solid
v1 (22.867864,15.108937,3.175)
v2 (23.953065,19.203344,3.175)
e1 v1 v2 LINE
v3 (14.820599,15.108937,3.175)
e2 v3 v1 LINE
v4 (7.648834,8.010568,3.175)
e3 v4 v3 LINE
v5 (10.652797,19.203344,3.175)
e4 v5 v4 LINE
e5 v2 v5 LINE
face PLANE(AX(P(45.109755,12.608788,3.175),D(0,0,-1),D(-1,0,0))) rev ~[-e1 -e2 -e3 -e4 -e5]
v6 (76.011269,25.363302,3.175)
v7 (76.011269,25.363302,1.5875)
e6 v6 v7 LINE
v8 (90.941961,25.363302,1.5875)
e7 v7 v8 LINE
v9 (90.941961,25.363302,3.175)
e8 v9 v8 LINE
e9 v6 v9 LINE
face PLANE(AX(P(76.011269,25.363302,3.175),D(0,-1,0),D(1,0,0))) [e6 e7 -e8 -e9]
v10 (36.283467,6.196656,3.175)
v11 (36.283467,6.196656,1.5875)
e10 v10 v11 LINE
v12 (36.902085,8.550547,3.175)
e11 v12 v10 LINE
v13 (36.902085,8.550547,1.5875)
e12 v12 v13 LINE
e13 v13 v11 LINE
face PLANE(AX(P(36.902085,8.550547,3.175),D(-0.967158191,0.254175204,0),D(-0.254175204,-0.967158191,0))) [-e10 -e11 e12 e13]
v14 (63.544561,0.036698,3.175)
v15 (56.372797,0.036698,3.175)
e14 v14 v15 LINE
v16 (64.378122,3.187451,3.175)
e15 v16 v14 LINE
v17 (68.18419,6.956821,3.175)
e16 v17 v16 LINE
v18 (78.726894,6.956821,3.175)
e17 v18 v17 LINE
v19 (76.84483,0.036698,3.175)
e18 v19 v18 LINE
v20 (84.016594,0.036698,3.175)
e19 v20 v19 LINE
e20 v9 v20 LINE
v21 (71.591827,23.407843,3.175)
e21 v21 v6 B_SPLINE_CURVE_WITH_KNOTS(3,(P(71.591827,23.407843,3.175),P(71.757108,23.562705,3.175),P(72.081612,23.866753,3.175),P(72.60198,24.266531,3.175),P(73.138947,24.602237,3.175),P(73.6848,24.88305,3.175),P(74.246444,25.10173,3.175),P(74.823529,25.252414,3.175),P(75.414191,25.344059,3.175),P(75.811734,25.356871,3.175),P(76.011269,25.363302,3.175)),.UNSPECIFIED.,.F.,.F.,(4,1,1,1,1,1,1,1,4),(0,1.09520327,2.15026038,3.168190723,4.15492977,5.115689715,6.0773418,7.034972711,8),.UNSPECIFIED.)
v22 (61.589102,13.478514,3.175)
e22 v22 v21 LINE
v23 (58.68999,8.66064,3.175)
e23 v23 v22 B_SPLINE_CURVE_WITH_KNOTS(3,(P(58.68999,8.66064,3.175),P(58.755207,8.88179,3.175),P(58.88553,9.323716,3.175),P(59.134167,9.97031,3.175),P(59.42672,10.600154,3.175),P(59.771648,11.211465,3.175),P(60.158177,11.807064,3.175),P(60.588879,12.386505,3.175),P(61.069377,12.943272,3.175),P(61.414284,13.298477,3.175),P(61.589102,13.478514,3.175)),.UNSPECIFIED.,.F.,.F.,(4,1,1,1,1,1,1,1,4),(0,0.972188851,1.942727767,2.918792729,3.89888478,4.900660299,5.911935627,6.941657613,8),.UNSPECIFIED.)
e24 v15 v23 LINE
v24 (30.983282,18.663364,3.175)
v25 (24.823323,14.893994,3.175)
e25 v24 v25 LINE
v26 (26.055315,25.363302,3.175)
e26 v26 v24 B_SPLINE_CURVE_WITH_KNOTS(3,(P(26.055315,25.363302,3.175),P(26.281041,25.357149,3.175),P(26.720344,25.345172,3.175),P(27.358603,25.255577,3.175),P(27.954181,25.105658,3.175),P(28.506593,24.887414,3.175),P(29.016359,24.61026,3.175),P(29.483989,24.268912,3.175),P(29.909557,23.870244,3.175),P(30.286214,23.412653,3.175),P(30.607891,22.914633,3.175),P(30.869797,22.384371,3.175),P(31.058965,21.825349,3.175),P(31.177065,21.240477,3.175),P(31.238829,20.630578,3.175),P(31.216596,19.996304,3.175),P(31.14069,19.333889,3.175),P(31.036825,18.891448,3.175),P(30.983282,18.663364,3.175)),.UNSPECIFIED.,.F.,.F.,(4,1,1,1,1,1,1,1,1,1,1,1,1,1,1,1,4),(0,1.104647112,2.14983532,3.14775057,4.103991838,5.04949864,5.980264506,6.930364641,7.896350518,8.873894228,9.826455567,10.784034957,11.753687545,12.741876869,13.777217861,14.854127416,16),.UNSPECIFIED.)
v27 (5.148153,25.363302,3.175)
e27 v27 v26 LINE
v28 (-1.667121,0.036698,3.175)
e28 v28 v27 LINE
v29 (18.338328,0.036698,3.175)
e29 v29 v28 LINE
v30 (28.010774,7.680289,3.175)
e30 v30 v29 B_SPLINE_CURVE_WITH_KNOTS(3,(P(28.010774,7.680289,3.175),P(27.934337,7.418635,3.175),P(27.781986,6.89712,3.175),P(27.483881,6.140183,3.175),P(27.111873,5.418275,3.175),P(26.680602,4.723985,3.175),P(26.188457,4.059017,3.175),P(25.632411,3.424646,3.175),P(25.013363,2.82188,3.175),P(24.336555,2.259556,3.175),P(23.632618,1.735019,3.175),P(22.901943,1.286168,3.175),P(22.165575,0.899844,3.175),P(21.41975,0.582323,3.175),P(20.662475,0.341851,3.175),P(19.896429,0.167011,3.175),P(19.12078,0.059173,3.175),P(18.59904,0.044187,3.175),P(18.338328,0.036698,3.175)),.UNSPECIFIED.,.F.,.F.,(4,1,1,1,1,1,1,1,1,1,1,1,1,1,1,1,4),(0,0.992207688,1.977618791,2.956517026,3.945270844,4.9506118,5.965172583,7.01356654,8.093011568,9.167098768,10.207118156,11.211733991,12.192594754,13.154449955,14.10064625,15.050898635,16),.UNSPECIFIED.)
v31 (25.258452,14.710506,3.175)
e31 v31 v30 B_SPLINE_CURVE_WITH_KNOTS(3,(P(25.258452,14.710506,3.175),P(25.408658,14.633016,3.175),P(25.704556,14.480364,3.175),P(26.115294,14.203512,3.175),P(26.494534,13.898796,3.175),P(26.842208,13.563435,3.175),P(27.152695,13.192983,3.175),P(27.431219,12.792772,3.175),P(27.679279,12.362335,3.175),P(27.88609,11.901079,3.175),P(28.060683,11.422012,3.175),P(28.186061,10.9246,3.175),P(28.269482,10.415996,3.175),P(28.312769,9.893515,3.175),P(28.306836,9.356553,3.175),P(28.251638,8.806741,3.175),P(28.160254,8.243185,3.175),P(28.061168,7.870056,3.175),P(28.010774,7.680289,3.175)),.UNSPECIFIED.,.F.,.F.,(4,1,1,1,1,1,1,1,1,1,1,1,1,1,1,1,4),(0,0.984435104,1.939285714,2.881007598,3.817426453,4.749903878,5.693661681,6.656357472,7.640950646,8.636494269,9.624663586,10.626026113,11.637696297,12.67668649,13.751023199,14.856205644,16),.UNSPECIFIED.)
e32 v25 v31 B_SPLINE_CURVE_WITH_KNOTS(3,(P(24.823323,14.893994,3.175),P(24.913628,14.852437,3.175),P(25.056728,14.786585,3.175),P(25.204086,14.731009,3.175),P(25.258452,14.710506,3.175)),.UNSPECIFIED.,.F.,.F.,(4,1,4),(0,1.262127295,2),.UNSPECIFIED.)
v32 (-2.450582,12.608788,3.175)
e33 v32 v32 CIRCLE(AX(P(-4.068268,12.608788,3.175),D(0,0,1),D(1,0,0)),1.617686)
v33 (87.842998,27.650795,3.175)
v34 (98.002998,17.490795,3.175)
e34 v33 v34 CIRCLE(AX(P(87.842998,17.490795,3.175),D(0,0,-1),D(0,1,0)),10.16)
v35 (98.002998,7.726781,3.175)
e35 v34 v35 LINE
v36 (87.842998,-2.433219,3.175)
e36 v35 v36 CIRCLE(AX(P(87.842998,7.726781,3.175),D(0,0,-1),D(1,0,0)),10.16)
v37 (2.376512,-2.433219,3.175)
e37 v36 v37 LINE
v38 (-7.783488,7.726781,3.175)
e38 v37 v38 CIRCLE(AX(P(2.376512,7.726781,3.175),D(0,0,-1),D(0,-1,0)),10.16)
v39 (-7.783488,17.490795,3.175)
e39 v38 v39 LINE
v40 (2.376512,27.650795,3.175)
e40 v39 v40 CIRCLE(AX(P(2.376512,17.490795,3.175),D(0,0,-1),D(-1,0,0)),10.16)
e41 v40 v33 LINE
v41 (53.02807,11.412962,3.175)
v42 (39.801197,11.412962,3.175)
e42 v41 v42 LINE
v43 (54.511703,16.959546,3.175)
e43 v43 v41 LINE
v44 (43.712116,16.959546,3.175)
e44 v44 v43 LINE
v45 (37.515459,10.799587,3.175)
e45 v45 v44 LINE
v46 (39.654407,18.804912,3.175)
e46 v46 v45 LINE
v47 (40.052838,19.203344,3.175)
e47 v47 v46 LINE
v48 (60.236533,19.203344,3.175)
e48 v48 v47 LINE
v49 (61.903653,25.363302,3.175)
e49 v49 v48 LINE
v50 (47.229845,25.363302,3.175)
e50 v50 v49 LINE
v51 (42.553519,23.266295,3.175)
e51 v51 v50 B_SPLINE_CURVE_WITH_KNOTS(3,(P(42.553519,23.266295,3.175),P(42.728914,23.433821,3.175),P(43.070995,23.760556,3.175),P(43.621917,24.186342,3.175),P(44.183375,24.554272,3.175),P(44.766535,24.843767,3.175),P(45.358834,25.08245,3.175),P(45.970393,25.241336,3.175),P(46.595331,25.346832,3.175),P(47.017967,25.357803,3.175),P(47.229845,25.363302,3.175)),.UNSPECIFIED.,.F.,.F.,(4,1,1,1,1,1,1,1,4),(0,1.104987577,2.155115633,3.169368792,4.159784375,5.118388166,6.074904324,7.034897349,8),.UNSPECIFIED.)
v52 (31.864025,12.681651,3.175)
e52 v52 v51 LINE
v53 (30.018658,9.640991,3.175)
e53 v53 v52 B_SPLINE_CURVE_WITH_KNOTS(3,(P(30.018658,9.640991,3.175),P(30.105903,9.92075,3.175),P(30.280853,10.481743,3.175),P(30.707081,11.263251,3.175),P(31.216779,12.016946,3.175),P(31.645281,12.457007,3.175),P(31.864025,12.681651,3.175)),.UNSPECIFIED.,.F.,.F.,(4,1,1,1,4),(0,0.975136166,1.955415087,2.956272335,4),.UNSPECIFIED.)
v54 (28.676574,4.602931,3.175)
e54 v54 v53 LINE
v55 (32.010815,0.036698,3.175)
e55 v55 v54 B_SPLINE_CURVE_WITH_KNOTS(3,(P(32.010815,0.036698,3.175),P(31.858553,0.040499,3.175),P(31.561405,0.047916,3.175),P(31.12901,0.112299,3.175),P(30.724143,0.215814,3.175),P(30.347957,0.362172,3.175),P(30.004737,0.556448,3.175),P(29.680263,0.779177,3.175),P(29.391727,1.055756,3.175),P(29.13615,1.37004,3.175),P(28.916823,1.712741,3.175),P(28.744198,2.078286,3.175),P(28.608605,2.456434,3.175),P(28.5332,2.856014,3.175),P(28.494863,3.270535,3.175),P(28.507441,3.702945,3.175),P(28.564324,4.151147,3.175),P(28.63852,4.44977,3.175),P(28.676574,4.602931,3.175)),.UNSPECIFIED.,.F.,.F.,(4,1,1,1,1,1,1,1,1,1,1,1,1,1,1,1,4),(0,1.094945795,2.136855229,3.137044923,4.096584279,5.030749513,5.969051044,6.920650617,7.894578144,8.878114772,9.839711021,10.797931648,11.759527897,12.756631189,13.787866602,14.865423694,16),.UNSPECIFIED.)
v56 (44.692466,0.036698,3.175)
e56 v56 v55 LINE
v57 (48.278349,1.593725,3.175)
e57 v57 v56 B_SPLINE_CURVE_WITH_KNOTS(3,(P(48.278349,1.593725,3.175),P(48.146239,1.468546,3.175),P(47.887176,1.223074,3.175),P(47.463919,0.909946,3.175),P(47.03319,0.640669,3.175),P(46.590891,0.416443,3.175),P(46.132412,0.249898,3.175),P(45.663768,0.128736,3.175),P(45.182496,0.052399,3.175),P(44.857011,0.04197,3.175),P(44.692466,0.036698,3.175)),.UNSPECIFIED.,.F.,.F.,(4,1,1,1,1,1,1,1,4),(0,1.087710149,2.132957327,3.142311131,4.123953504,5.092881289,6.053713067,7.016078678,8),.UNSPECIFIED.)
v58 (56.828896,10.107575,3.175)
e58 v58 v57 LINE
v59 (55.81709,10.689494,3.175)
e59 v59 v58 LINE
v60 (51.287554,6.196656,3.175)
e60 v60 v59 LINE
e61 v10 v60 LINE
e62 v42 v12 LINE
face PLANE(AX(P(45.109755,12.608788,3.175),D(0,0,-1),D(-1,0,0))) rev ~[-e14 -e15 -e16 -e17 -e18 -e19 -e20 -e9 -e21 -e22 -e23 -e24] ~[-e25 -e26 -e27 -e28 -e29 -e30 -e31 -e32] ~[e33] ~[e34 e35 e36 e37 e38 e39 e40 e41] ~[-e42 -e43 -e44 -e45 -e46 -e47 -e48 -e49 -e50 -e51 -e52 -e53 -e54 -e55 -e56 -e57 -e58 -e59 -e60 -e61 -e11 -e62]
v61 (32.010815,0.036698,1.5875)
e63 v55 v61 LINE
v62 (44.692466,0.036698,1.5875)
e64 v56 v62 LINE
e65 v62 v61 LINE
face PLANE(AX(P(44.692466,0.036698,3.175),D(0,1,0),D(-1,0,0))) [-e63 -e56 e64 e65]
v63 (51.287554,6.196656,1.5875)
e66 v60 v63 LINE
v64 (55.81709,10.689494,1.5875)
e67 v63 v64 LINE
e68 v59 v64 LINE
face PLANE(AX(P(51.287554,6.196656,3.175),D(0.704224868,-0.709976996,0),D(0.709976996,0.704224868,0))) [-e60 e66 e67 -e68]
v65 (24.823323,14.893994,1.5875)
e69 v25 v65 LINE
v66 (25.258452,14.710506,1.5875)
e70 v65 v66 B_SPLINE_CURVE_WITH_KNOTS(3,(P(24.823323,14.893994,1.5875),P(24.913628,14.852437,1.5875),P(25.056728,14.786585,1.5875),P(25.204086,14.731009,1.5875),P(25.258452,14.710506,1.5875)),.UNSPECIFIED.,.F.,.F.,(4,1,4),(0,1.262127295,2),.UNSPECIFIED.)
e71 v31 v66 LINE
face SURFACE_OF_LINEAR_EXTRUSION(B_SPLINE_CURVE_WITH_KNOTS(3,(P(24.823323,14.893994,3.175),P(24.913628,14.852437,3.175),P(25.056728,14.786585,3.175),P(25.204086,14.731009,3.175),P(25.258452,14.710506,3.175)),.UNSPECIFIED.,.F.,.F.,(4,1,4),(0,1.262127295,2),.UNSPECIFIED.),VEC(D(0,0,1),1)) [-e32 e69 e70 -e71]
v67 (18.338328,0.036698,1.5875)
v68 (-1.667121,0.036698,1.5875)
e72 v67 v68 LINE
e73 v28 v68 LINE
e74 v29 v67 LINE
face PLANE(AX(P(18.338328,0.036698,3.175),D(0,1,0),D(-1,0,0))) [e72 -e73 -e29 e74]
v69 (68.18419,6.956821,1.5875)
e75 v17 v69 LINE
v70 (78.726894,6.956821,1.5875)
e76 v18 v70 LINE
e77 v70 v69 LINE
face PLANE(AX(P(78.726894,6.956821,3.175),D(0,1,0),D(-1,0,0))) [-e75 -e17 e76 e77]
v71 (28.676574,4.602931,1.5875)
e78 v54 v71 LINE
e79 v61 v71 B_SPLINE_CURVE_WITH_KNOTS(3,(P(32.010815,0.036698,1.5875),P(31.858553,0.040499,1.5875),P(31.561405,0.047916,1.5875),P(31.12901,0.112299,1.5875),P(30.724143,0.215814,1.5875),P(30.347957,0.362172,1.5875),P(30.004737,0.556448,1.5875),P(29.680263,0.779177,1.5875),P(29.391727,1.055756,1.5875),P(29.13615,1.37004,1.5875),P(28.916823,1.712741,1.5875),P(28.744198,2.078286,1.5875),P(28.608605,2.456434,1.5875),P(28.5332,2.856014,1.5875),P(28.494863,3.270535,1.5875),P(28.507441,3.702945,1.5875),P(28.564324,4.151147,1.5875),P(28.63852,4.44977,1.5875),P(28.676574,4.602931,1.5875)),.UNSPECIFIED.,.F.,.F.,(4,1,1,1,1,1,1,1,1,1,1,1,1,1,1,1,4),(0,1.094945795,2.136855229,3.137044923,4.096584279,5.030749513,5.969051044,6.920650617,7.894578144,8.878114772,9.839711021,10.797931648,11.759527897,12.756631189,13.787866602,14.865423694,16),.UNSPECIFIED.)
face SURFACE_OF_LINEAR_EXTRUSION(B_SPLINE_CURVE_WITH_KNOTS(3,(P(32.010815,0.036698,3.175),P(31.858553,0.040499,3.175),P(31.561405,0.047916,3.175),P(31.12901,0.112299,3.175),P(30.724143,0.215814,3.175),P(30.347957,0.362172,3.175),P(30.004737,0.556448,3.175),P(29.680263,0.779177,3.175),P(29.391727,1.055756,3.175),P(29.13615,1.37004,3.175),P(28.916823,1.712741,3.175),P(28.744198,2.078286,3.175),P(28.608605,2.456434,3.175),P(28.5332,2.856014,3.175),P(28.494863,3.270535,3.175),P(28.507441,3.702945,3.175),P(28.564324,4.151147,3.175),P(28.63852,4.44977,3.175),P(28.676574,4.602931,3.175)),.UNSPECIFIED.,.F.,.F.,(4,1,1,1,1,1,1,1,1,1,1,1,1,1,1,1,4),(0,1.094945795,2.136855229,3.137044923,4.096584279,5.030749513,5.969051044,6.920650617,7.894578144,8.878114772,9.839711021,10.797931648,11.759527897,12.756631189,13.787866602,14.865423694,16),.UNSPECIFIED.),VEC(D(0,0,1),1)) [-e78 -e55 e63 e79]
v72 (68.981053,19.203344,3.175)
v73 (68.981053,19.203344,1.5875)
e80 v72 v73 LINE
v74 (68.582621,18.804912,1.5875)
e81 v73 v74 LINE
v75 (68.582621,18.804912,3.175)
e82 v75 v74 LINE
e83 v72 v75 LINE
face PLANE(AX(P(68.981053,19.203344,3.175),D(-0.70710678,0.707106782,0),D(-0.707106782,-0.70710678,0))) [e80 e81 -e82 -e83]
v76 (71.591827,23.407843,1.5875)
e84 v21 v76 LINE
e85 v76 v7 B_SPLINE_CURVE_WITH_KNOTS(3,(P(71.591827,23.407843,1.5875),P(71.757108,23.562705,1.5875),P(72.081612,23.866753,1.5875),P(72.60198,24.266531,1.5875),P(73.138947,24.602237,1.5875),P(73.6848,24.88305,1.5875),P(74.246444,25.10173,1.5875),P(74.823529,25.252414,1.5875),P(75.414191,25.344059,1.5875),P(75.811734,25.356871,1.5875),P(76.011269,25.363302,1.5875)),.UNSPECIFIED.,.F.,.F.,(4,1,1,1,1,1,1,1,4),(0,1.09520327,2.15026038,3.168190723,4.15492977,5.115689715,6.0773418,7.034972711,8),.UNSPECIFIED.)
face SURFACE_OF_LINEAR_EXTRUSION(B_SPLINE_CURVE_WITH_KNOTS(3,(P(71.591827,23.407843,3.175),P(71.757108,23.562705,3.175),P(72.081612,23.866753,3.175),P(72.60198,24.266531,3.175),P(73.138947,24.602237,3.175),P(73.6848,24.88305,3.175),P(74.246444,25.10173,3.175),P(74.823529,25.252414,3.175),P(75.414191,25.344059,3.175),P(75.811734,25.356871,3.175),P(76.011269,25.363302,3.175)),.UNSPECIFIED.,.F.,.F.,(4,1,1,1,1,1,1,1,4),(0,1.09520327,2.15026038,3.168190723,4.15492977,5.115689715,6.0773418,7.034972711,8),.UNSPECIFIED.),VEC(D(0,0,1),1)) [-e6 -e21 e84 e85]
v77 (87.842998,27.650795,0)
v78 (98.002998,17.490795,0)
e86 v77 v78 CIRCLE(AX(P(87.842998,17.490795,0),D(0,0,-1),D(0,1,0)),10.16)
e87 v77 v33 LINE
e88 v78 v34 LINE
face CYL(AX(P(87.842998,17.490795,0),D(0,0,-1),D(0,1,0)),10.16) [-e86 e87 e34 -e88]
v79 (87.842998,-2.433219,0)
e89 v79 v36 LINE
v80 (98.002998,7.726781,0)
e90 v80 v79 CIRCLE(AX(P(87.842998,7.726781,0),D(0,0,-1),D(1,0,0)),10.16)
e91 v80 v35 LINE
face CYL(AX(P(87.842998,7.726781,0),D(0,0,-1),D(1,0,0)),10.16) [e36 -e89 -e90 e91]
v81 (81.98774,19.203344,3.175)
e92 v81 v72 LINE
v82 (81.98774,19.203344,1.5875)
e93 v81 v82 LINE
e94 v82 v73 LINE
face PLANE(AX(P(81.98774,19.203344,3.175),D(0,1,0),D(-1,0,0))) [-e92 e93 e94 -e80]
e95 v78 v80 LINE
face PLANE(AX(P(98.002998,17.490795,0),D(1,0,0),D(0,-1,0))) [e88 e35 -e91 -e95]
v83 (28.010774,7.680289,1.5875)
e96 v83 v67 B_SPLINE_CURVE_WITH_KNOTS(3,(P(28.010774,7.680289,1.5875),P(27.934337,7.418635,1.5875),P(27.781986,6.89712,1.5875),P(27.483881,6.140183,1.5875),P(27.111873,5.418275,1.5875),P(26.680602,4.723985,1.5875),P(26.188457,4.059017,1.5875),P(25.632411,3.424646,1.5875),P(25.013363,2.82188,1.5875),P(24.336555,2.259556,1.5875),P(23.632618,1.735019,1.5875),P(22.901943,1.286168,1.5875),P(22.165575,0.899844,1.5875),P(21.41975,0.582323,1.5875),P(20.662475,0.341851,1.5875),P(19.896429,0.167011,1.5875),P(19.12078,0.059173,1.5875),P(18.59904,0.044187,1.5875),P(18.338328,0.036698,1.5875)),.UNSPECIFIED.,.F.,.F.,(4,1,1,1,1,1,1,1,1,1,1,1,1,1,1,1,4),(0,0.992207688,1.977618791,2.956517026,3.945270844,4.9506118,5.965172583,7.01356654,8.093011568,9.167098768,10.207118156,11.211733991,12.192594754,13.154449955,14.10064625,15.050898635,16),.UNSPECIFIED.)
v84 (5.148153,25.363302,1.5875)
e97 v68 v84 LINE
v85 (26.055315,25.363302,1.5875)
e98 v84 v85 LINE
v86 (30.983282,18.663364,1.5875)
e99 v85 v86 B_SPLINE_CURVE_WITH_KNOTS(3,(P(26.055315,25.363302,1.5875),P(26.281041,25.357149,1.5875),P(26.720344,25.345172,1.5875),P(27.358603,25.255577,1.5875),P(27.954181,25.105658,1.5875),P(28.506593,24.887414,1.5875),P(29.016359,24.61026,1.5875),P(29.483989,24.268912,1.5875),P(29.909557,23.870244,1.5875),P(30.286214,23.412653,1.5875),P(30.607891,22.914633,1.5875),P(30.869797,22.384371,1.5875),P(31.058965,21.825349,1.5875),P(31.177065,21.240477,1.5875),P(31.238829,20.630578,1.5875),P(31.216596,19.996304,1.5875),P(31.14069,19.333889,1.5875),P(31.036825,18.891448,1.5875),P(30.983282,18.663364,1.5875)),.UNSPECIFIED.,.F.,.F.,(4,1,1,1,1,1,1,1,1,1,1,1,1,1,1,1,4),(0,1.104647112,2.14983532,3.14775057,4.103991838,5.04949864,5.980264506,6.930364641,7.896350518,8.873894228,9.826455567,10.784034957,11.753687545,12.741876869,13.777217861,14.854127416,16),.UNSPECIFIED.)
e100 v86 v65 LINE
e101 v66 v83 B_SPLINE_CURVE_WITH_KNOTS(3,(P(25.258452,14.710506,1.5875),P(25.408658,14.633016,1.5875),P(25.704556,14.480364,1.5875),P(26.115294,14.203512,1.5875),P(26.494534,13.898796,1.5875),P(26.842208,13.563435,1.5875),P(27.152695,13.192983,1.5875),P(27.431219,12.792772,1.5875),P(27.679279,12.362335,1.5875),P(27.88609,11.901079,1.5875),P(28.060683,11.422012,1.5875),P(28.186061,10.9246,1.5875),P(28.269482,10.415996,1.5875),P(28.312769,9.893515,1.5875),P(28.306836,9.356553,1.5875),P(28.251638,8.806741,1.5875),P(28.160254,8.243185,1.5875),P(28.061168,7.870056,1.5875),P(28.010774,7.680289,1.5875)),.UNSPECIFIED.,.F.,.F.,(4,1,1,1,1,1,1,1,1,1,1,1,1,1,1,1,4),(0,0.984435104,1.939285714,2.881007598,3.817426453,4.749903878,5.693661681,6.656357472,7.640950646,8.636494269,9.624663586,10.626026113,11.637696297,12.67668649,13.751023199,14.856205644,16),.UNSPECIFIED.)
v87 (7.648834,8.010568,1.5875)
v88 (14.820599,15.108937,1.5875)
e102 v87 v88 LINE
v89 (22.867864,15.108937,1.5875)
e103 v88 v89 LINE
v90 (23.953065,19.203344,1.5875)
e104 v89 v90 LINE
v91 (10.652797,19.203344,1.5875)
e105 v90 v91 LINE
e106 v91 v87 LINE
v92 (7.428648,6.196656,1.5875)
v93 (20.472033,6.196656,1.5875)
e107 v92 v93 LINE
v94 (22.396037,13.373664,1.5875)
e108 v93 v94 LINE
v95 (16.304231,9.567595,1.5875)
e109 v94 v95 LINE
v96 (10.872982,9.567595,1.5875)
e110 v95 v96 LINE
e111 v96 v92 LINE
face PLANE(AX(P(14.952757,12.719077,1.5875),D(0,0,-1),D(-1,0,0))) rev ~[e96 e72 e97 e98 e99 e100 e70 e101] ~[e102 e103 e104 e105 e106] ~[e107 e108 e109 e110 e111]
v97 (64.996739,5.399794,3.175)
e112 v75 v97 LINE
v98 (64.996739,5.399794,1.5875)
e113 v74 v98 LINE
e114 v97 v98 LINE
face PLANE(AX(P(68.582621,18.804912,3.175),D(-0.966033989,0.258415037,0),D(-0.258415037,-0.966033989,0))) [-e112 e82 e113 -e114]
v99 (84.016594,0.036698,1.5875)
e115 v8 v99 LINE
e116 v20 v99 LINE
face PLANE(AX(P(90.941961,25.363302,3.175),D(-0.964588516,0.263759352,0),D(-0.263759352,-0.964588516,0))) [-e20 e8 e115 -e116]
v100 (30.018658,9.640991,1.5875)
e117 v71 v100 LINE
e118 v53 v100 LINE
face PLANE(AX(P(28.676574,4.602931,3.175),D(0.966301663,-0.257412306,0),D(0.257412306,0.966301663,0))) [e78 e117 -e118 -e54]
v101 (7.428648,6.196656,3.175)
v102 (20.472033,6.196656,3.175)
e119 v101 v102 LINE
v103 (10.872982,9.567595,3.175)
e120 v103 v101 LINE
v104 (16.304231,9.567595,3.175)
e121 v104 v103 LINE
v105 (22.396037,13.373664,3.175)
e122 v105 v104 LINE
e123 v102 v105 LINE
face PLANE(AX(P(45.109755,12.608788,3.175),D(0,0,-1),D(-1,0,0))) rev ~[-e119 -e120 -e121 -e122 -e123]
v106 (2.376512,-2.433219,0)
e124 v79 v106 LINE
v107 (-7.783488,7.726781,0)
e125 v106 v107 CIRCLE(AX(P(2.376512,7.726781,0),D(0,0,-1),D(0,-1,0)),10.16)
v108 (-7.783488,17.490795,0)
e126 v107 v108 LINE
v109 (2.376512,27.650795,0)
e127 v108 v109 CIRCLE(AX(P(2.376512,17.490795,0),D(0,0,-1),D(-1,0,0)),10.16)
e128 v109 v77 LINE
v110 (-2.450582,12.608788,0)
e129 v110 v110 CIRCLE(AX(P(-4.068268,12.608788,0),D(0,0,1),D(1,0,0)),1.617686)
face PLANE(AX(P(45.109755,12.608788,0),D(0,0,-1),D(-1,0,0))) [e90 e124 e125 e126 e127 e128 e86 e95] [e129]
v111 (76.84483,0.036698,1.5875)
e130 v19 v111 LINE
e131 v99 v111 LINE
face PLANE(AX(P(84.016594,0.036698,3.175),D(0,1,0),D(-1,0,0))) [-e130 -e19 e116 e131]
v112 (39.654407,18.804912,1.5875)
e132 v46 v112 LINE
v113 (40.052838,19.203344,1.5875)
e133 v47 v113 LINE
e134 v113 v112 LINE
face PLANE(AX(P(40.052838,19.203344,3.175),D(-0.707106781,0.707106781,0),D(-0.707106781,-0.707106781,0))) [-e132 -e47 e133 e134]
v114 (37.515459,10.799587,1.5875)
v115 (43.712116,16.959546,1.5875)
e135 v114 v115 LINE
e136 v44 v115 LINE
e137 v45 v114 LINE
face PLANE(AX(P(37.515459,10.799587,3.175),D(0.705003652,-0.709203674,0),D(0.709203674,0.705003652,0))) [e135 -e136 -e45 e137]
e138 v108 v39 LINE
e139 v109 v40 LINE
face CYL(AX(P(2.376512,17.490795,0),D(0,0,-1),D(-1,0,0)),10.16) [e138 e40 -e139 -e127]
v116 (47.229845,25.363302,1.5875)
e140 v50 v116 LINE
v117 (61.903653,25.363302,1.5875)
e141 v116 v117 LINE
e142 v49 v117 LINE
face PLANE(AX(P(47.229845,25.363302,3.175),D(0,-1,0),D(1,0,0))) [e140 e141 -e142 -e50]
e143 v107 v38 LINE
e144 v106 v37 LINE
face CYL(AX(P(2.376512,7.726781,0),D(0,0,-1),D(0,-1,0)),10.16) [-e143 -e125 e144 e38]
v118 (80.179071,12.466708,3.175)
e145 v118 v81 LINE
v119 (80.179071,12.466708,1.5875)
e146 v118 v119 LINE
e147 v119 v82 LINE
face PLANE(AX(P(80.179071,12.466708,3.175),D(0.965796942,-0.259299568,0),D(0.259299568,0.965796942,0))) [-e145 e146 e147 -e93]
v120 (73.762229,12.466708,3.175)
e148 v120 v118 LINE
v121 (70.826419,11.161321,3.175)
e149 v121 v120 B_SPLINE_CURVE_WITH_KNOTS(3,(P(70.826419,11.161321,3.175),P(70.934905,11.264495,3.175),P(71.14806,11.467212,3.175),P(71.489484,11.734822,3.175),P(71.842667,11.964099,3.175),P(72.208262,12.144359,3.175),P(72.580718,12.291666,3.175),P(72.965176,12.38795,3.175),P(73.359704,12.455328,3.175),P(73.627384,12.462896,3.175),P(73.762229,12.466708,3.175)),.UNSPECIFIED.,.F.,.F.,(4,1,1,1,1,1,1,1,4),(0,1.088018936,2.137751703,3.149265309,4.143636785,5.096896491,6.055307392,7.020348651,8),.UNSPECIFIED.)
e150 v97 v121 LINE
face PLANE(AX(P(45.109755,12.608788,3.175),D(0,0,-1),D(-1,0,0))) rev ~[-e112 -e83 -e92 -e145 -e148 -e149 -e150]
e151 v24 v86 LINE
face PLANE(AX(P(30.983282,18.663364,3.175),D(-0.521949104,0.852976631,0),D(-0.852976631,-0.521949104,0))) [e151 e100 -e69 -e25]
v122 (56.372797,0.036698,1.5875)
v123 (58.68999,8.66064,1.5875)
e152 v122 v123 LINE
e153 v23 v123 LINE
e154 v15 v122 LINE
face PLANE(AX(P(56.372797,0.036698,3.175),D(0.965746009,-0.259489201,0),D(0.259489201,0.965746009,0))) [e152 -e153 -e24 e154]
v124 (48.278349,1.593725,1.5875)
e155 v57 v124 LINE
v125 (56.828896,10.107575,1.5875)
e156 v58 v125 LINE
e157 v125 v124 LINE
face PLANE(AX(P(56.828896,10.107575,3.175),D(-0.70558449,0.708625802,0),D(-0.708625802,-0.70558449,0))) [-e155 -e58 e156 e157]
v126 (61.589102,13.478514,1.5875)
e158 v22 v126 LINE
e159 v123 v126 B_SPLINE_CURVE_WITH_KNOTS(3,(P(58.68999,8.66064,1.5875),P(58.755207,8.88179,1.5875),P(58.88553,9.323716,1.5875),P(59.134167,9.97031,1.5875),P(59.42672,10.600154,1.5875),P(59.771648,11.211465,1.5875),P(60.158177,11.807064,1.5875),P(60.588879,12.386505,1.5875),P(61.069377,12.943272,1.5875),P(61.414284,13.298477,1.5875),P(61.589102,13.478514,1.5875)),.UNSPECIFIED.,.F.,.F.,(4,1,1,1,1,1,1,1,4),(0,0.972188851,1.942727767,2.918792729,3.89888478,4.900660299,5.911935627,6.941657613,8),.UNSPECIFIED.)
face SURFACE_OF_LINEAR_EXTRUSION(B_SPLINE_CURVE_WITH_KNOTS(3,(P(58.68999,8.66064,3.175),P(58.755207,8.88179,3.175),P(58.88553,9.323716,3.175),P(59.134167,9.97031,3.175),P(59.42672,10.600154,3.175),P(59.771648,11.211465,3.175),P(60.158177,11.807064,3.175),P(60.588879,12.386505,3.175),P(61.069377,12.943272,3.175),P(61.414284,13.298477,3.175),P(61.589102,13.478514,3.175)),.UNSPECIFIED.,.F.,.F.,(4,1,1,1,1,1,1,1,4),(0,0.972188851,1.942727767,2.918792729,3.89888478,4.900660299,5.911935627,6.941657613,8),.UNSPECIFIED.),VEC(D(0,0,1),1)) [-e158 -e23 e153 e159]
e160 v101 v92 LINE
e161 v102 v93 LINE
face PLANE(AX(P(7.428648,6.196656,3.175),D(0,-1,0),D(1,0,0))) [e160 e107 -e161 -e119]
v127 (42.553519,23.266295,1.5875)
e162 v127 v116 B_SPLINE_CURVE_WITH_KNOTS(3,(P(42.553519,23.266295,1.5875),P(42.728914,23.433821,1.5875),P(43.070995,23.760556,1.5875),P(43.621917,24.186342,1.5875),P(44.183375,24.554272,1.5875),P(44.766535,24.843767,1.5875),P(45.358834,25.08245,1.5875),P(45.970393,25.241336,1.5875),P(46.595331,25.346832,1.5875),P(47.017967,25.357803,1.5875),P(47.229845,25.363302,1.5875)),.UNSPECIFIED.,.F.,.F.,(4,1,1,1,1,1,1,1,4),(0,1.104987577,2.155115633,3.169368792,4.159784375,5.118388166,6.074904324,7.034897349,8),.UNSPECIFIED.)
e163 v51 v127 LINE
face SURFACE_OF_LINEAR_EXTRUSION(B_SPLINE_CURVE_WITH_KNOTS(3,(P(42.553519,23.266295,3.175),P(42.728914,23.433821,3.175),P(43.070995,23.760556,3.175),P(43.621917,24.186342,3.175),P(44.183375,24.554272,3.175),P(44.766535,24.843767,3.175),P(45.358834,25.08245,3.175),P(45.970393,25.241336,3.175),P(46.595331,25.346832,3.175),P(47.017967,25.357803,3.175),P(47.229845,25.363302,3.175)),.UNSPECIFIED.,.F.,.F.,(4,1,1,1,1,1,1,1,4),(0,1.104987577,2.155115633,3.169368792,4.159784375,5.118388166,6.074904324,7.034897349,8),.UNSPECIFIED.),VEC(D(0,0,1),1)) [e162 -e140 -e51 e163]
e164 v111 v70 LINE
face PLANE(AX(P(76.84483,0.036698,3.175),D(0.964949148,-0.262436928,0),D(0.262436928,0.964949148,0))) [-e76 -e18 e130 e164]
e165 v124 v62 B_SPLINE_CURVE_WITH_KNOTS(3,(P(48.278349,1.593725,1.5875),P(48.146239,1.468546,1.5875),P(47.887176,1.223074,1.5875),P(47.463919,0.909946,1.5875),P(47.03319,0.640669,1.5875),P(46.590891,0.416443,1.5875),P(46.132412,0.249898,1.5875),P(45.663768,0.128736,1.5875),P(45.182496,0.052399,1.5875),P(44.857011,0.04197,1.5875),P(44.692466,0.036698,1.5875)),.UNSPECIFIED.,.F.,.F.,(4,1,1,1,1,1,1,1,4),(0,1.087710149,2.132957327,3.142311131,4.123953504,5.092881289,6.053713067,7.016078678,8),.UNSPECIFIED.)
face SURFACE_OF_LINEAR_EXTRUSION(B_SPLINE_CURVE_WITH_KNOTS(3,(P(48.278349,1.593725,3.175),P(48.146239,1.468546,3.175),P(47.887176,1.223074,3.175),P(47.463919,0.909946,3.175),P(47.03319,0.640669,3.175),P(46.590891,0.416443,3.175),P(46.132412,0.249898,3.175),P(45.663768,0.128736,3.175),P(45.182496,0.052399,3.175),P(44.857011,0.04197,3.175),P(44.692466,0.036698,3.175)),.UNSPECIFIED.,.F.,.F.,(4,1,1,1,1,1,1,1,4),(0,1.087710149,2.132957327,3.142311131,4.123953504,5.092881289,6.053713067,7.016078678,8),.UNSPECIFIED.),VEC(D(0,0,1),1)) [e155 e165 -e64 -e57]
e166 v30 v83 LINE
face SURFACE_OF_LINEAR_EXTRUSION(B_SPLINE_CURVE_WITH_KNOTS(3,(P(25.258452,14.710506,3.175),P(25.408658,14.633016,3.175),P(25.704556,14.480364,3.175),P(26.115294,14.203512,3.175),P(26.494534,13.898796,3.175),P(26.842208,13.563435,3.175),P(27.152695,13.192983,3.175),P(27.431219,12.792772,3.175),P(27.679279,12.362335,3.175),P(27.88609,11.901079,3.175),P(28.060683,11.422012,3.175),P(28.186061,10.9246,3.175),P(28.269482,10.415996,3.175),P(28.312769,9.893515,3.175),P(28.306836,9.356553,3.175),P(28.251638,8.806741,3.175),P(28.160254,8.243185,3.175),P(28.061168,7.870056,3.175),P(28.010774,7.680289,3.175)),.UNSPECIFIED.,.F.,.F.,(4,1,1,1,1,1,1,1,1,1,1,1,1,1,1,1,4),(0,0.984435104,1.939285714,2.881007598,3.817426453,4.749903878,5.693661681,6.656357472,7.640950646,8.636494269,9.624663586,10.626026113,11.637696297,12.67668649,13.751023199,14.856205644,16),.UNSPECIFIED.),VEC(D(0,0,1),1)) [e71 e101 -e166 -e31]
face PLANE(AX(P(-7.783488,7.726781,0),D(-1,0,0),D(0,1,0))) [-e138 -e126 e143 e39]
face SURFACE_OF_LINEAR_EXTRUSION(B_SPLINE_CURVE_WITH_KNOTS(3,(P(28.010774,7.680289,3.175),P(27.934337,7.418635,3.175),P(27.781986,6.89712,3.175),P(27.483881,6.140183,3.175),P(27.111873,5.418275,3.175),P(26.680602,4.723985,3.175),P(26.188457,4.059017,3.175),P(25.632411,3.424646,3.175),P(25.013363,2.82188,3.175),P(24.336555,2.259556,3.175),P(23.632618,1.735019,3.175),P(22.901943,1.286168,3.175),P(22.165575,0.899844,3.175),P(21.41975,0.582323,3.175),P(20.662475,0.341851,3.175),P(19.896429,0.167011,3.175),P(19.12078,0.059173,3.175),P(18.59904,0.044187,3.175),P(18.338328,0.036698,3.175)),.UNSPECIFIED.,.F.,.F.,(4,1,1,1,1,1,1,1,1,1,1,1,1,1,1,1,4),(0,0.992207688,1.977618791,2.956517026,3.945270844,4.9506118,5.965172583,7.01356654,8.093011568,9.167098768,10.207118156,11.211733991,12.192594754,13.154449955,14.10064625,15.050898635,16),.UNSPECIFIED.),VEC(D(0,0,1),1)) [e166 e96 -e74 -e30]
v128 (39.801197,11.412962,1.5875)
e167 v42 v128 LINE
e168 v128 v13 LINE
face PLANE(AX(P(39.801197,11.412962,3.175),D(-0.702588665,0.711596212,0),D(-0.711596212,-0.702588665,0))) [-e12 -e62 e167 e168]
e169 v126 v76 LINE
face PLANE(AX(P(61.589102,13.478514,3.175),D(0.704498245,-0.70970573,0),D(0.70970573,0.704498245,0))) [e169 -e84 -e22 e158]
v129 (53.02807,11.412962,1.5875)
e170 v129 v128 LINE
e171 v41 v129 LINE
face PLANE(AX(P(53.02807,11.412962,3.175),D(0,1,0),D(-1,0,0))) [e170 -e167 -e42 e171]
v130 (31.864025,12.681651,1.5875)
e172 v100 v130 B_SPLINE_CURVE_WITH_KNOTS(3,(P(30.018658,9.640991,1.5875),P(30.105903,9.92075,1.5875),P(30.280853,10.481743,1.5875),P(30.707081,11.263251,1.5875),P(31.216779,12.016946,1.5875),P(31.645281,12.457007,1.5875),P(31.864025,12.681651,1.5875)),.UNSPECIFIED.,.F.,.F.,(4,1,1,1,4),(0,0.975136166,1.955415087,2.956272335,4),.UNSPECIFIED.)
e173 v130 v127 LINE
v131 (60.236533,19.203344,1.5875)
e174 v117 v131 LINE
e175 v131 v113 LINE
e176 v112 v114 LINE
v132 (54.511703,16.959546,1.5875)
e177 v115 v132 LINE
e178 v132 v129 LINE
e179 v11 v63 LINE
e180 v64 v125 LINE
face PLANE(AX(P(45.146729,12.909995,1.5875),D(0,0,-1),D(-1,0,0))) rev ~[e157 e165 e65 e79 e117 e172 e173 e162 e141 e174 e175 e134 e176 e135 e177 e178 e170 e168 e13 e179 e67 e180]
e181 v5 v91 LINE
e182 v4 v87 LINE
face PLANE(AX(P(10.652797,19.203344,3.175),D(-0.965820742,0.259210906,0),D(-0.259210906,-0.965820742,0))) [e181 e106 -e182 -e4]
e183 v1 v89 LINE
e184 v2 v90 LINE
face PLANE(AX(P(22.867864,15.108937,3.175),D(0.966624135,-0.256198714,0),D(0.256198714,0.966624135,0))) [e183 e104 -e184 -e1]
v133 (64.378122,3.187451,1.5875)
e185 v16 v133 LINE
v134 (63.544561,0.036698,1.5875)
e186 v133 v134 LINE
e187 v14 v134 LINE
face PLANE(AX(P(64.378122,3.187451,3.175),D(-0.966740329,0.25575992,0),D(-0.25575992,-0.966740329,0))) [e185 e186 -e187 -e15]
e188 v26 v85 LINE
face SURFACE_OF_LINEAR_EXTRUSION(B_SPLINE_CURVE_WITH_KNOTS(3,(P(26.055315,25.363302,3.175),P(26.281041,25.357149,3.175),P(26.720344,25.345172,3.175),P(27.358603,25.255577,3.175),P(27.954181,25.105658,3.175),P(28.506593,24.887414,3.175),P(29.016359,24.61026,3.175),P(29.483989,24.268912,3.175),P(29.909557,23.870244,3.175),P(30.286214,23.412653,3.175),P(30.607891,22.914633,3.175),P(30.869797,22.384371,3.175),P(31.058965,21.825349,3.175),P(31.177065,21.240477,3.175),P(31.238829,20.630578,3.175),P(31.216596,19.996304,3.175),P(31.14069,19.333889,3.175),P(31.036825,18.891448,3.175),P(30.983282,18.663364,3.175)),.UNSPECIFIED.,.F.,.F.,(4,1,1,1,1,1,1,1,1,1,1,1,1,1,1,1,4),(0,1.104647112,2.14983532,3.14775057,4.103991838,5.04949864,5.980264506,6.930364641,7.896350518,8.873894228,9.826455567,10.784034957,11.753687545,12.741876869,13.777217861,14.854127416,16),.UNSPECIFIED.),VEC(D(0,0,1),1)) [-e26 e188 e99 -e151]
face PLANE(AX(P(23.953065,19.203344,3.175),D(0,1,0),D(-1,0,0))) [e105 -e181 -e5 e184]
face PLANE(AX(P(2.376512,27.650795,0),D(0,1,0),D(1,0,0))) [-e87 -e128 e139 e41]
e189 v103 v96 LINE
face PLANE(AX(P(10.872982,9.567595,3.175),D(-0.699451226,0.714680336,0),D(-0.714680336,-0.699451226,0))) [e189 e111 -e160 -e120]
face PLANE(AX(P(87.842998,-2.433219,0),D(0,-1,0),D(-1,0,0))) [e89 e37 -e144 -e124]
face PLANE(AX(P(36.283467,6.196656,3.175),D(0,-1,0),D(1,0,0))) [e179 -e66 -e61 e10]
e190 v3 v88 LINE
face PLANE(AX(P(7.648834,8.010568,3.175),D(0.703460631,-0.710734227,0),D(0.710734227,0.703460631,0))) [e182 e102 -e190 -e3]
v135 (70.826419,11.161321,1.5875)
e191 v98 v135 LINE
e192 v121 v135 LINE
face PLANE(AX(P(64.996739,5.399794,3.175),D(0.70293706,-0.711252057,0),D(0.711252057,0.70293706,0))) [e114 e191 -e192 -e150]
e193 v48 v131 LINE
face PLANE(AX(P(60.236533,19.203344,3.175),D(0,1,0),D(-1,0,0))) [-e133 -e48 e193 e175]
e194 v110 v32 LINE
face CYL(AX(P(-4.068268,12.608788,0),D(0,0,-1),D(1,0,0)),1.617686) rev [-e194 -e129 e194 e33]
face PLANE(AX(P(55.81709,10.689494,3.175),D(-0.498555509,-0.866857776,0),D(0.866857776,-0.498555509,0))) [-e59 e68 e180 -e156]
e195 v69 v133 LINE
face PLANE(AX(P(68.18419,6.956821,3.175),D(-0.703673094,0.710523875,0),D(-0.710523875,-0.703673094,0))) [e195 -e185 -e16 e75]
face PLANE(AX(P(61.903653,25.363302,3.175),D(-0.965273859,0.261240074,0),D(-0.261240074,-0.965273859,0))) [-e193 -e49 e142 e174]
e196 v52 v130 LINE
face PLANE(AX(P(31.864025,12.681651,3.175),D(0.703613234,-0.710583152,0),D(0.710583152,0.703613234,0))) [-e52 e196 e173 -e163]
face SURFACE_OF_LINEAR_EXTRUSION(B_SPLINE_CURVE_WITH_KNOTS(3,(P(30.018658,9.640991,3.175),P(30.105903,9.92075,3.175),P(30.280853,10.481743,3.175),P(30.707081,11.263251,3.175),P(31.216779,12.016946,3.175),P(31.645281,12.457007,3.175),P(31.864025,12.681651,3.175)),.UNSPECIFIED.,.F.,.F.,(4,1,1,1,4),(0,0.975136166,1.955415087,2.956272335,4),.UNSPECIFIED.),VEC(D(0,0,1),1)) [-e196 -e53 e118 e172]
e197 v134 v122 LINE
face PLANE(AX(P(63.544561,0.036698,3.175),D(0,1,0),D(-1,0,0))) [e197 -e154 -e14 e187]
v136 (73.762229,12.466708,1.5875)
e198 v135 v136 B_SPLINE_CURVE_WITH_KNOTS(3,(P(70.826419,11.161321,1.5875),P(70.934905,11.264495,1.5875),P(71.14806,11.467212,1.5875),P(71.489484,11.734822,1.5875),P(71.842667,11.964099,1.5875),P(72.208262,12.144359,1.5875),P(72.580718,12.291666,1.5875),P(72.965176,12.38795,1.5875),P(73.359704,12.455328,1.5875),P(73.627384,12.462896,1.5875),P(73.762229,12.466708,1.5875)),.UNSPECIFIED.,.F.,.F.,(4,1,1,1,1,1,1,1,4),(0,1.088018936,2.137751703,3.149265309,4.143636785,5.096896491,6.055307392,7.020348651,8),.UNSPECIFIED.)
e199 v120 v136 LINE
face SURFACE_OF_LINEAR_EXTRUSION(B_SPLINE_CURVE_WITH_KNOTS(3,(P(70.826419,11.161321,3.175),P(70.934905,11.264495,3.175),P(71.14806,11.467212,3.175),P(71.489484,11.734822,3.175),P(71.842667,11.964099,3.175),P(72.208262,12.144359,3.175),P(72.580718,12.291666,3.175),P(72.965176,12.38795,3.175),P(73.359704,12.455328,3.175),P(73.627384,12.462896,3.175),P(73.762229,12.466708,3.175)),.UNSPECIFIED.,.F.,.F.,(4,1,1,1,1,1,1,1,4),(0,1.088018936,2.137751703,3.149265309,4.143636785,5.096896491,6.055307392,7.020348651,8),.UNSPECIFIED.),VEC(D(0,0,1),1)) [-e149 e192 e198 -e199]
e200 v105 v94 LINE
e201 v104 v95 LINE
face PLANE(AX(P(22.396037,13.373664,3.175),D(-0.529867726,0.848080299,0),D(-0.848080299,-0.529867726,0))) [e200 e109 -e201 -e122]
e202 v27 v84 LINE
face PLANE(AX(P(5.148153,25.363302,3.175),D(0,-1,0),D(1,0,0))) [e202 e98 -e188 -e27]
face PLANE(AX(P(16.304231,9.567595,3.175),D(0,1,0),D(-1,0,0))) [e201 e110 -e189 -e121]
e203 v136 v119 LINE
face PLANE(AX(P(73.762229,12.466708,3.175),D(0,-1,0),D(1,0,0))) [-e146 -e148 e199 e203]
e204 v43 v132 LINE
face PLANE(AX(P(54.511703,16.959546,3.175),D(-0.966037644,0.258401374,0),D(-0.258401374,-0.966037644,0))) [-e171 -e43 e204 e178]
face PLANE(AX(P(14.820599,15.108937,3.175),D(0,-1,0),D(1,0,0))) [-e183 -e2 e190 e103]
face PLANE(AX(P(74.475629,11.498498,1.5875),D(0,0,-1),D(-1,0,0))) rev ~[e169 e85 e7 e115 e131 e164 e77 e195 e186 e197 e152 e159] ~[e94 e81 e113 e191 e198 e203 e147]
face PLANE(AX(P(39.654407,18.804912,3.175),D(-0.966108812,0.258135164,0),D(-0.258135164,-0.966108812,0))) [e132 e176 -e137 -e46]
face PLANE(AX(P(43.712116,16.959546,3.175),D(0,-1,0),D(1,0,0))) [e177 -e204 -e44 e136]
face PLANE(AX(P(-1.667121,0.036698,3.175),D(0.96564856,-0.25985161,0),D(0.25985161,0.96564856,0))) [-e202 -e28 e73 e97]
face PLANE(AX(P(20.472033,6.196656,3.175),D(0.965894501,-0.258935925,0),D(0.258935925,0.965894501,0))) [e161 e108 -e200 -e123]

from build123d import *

# Parameters (mm, degrees)
SKETCH1_R           = 1.617686351
BOSS_EXTRUDE1_DEPTH = 3.175
CUT_EXTRUDE1_DEPTH  = 1.5875


with BuildPart() as part:
    # Sketch1 → Boss-Extrude1 (new body)
    with BuildSketch(Plane.XY):
        with BuildLine():
            Line((2.376512113, 27.65079512), (87.842998078, 27.65079512))
            ThreePointArc((87.842998078, 27.65079512), (95.027202975, 24.675000017), (98.002998078, 17.49079512))
            Line((98.002998078, 17.49079512), (98.002998078, 7.726780525))
            ThreePointArc((98.002998078, 7.726780525), (95.027202975, 0.542575628), (87.842998078, -2.433219475))
            Line((87.842998078, -2.433219475), (2.376512113, -2.433219475))
            ThreePointArc((2.376512113, -2.433219475), (-4.807692784, 0.542575628), (-7.783487887, 7.726780525))
            Line((-7.783487887, 7.726780525), (-7.783487887, 17.49079512))
            ThreePointArc((-7.783487887, 17.49079512), (-4.807692784, 24.675000017), (2.376512113, 27.65079512))
        make_face()
        with Locations((-4.068268159, 12.608787822)):
            Circle(SKETCH1_R, mode=Mode.SUBTRACT)
    extrude(amount=BOSS_EXTRUDE1_DEPTH)

    # Sketch2 → Cut-Extrude1 (cut)
    # profile 1 of 3: a face of its own
    with BuildSketch(Plane.XY.offset(3.175)):
        with BuildLine():
            add(Edge.make_bspline(
                [(26.055314757, 25.363302374), (26.281041178, 25.357148606), (26.720344033, 25.345172305), (27.358603179, 25.255576736), (27.954181106, 25.10565776), (28.506593472, 24.887414053), (29.01635882, 24.61026015), (29.483989025, 24.268912351), (29.909556765, 23.870244327), (30.286214231, 23.412653315), (30.607890769, 22.914633219), (30.869796512, 22.384371241), (31.05896534, 21.825349006), (31.177064683, 21.240476881), (31.238829311, 20.630578255), (31.216595671, 19.996303633), (31.140690223, 19.333888525), (31.036825384, 18.891448023), (30.983281734, 18.663364293)],
                knots=[0, 0, 0, 0, 1.104647112, 2.14983532, 3.14775057, 4.103991838, 5.04949864, 5.980264506, 6.930364641, 7.896350518, 8.873894228, 9.826455567, 10.784034957, 11.753687545, 12.741876869, 13.777217861, 14.854127416, 16, 16, 16, 16], degree=3))
            Line((30.983281734, 18.663364293), (24.823323013, 14.893993808))
            add(Edge.make_bspline(
                [(24.823323013, 14.893993808), (24.913627964, 14.852436986), (25.056727556, 14.786584956), (25.204086092, 14.731009487), (25.258452012, 14.710505676)],
                knots=[0, 0, 0, 0, 1.262127295, 2, 2, 2, 2], degree=3))
            add(Edge.make_bspline(
                [(25.258452012, 14.710505676), (25.408658011, 14.633015541), (25.70455598, 14.480364025), (26.115294044, 14.203511612), (26.494533839, 13.898795938), (26.842207753, 13.563435468), (27.152694985, 13.192982522), (27.431219321, 12.792771569), (27.67927879, 12.362334709), (27.886089668, 11.901078686), (28.060682724, 11.422012006), (28.186061, 10.924600148), (28.269482345, 10.415995768), (28.312768514, 9.893514579), (28.306836135, 9.356553203), (28.251637963, 8.806740636), (28.160254496, 8.243184587), (28.061167889, 7.870056205), (28.010773994, 7.680288958)],
                knots=[0, 0, 0, 0, 0.984435104, 1.939285714, 2.881007598, 3.817426453, 4.749903878, 5.693661681, 6.656357472, 7.640950646, 8.636494269, 9.624663586, 10.626026113, 11.637696297, 12.67668649, 13.751023199, 14.856205644, 16, 16, 16, 16], degree=3))
            add(Edge.make_bspline(
                [(28.010773994, 7.680288958), (27.934336699, 7.418635325), (27.781985703, 6.897120378), (27.483880814, 6.140182715), (27.111873403, 5.418274722), (26.680602198, 4.723985098), (26.188457087, 4.059016869), (25.632410614, 3.42464569), (25.013362966, 2.8218799), (24.336555177, 2.259555831), (23.632617641, 1.73501911), (22.90194296, 1.286167719), (22.165575056, 0.899844078), (21.419750266, 0.582322921), (20.662474561, 0.341850589), (19.896429331, 0.167011128), (19.120780451, 0.059173369), (18.599040207, 0.044186513), (18.338328173, 0.036697626)],
                knots=[0, 0, 0, 0, 0.992207688, 1.977618791, 2.956517026, 3.945270844, 4.9506118, 5.965172583, 7.01356654, 8.093011568, 9.167098768, 10.207118156, 11.211733991, 12.192594754, 13.154449955, 14.10064625, 15.050898635, 16, 16, 16, 16], degree=3))
            Line((18.338328173, 0.036697626), (-1.667120743, 0.036697626))
            Line((-1.667120743, 0.036697626), (5.148152735, 25.363302374))
            Line((5.148152735, 25.363302374), (26.055314757, 25.363302374))
        make_face()
        Polygon((20.472033024, 6.196656347), (22.396037152, 13.373663571), (16.304231166, 9.567595459), (10.872982456, 9.567595459), (7.428648091, 6.196656347), align=None, mode=Mode.SUBTRACT)
        Polygon((22.867863777, 15.108937049), (23.953065015, 19.203343653), (10.652796698, 19.203343653), (7.648833849, 8.010567595), (14.820598555, 15.108937049), align=None, mode=Mode.SUBTRACT)
    # profile 2 of 3: a face of its own
    with BuildSketch(Plane.XY.offset(3.175)):
        with BuildLine():
            Line((40.052837977, 19.203343653), (39.654406605, 18.804912281))
            Line((39.654406605, 18.804912281), (37.515459236, 10.799587203))
            Line((37.515459236, 10.799587203), (43.712115583, 16.959545924))
            Line((43.712115583, 16.959545924), (54.511702786, 16.959545924))
            Line((54.511702786, 16.959545924), (53.028070175, 11.412961816))
            Line((53.028070175, 11.412961816), (39.80119711, 11.412961816))
            Line((39.80119711, 11.412961816), (36.902084623, 8.550546956))
            Line((36.902084623, 8.550546956), (36.283467492, 6.196656347))
            Line((36.283467492, 6.196656347), (51.28755418, 6.196656347))
            Line((51.28755418, 6.196656347), (55.817089783, 10.689494324))
            Line((55.817089783, 10.689494324), (56.828895769, 10.107574819))
            Line((56.828895769, 10.107574819), (48.278348813, 1.59372549))
            add(Edge.make_bspline(
                [(48.278348813, 1.59372549), (48.146238635, 1.46854593), (47.88717571, 1.223073677), (47.463918948, 0.909946193), (47.033190065, 0.640669228), (46.59089137, 0.416443393), (46.132411822, 0.249897844), (45.663767632, 0.128735888), (45.18249618, 0.052398669), (44.857011314, 0.041969808), (44.69246646, 0.036697626)],
                knots=[0, 0, 0, 0, 1.087710149, 2.132957327, 3.142311131, 4.123953504, 5.092881289, 6.053713067, 7.016078678, 8, 8, 8, 8], degree=3))
            Line((44.69246646, 0.036697626), (32.010815273, 0.036697626))
            add(Edge.make_bspline(
                [(32.010815273, 0.036697626), (31.858553331, 0.040498566), (31.561404624, 0.047916336), (31.12901049, 0.112299235), (30.724143119, 0.215813593), (30.34795697, 0.362171558), (30.00473747, 0.556447691), (29.68026271, 0.779177165), (29.39172657, 1.055755752), (29.136150439, 1.370039707), (28.916823334, 1.712741424), (28.744197554, 2.078286326), (28.60860469, 2.456433819), (28.533199597, 2.856014145), (28.494863315, 3.270534693), (28.507441143, 3.702944694), (28.564324089, 4.151146712), (28.63851974, 4.4497704), (28.676573787, 4.602930857)],
                knots=[0, 0, 0, 0, 1.094945795, 2.136855229, 3.137044923, 4.096584279, 5.030749513, 5.969051044, 6.920650617, 7.894578144, 8.878114772, 9.839711021, 10.797931648, 11.759527897, 12.756631189, 13.787866602, 14.865423694, 16, 16, 16, 16], degree=3))
            Line((28.676573787, 4.602930857), (30.018658411, 9.640990712))
            add(Edge.make_bspline(
                [(30.018658411, 9.640990712), (30.105903319, 9.92074967), (30.280853255, 10.481743003), (30.707081382, 11.263251403), (31.216779073, 12.016946207), (31.645281289, 12.457007159), (31.864024768, 12.681651187)],
                knots=[0, 0, 0, 0, 0.975136166, 1.955415087, 2.956272335, 4, 4, 4, 4], degree=3))
            Line((31.864024768, 12.681651187), (42.553519092, 23.26629515))
            add(Edge.make_bspline(
                [(42.553519092, 23.26629515), (42.728913539, 23.433821304), (43.070994593, 23.760556411), (43.621916797, 24.186341546), (44.183374604, 24.554272478), (44.766535305, 24.843767238), (45.358833813, 25.082449973), (45.970393028, 25.241335998), (46.595330871, 25.346832444), (47.017966502, 25.357802691), (47.229845201, 25.363302374)],
                knots=[0, 0, 0, 0, 1.104987577, 2.155115633, 3.169368792, 4.159784375, 5.118388166, 6.074904324, 7.034897349, 8, 8, 8, 8], degree=3))
            Line((47.229845201, 25.363302374), (61.903653251, 25.363302374))
            Line((61.903653251, 25.363302374), (60.236532508, 19.203343653))
            Line((60.236532508, 19.203343653), (40.052837977, 19.203343653))
        make_face()
    # profile 3 of 3: a face of its own
    with BuildSketch(Plane.XY.offset(3.175)):
        with BuildLine():
            Line((76.01126935, 25.363302374), (90.941960784, 25.363302374))
            Line((90.941960784, 25.363302374), (84.016594427, 0.036697626))
            Line((84.016594427, 0.036697626), (76.844829721, 0.036697626))
            Line((76.844829721, 0.036697626), (78.726893705, 6.956821465))
            Line((78.726893705, 6.956821465), (68.184189886, 6.956821465))
            Line((68.184189886, 6.956821465), (64.378121775, 3.18745098))
            Line((64.378121775, 3.18745098), (63.544561404, 0.036697626))
            Line((63.544561404, 0.036697626), (56.372796698, 0.036697626))
            Line((56.372796698, 0.036697626), (58.68998968, 8.660639835))
            add(Edge.make_bspline(
                [(58.68998968, 8.660639835), (58.755206826, 8.881790357), (58.885530435, 9.32371608), (59.134167271, 9.97030979), (59.42672045, 10.600153997), (59.771647631, 11.211465097), (60.158176901, 11.807063633), (60.588878909, 12.38650539), (61.069376559, 12.943271893), (61.414284452, 13.298477026), (61.589102167, 13.478513932)],
                knots=[0, 0, 0, 0, 0.972188851, 1.942727767, 2.918792729, 3.89888478, 4.900660299, 5.911935627, 6.941657613, 8, 8, 8, 8], degree=3))
            Line((61.589102167, 13.478513932), (71.591826625, 23.407843137))
            add(Edge.make_bspline(
                [(71.591826625, 23.407843137), (71.757107834, 23.56270533), (72.081611644, 23.866753032), (72.601980127, 24.266531398), (73.138947216, 24.602237151), (73.684800305, 24.883050108), (74.246444332, 25.101729813), (74.823529255, 25.252414119), (75.414191387, 25.344058862), (75.811733587, 25.35687144), (76.01126935, 25.363302374)],
                knots=[0, 0, 0, 0, 1.09520327, 2.15026038, 3.168190723, 4.15492977, 5.115689715, 6.0773418, 7.034972711, 8, 8, 8, 8], degree=3))
        make_face()
        with BuildLine():
            Line((80.179071207, 12.466707946), (81.987739938, 19.203343653))
            Line((81.987739938, 19.203343653), (68.981052632, 19.203343653))
            Line((68.981052632, 19.203343653), (68.582621259, 18.804912281))
            Line((68.582621259, 18.804912281), (64.996738906, 5.399793602))
            Line((64.996738906, 5.399793602), (70.826418989, 11.161320949))
            add(Edge.make_bspline(
                [(70.826418989, 11.161320949), (70.934905254, 11.264494776), (71.148060273, 11.467211858), (71.489484319, 11.734822191), (71.842666884, 11.964098761), (72.208262313, 12.144359196), (72.580718442, 12.291666427), (72.965176253, 12.387949636), (73.359703622, 12.455328131), (73.6273836, 12.462895723), (73.762229102, 12.466707946)],
                knots=[0, 0, 0, 0, 1.088018936, 2.137751703, 3.149265309, 4.143636785, 5.096896491, 6.055307392, 7.020348651, 8, 8, 8, 8], degree=3))
            Line((73.762229102, 12.466707946), (80.179071207, 12.466707946))
        make_face(mode=Mode.SUBTRACT)
    extrude(amount=-CUT_EXTRUDE1_DEPTH, mode=Mode.SUBTRACT)


solid = part.part
